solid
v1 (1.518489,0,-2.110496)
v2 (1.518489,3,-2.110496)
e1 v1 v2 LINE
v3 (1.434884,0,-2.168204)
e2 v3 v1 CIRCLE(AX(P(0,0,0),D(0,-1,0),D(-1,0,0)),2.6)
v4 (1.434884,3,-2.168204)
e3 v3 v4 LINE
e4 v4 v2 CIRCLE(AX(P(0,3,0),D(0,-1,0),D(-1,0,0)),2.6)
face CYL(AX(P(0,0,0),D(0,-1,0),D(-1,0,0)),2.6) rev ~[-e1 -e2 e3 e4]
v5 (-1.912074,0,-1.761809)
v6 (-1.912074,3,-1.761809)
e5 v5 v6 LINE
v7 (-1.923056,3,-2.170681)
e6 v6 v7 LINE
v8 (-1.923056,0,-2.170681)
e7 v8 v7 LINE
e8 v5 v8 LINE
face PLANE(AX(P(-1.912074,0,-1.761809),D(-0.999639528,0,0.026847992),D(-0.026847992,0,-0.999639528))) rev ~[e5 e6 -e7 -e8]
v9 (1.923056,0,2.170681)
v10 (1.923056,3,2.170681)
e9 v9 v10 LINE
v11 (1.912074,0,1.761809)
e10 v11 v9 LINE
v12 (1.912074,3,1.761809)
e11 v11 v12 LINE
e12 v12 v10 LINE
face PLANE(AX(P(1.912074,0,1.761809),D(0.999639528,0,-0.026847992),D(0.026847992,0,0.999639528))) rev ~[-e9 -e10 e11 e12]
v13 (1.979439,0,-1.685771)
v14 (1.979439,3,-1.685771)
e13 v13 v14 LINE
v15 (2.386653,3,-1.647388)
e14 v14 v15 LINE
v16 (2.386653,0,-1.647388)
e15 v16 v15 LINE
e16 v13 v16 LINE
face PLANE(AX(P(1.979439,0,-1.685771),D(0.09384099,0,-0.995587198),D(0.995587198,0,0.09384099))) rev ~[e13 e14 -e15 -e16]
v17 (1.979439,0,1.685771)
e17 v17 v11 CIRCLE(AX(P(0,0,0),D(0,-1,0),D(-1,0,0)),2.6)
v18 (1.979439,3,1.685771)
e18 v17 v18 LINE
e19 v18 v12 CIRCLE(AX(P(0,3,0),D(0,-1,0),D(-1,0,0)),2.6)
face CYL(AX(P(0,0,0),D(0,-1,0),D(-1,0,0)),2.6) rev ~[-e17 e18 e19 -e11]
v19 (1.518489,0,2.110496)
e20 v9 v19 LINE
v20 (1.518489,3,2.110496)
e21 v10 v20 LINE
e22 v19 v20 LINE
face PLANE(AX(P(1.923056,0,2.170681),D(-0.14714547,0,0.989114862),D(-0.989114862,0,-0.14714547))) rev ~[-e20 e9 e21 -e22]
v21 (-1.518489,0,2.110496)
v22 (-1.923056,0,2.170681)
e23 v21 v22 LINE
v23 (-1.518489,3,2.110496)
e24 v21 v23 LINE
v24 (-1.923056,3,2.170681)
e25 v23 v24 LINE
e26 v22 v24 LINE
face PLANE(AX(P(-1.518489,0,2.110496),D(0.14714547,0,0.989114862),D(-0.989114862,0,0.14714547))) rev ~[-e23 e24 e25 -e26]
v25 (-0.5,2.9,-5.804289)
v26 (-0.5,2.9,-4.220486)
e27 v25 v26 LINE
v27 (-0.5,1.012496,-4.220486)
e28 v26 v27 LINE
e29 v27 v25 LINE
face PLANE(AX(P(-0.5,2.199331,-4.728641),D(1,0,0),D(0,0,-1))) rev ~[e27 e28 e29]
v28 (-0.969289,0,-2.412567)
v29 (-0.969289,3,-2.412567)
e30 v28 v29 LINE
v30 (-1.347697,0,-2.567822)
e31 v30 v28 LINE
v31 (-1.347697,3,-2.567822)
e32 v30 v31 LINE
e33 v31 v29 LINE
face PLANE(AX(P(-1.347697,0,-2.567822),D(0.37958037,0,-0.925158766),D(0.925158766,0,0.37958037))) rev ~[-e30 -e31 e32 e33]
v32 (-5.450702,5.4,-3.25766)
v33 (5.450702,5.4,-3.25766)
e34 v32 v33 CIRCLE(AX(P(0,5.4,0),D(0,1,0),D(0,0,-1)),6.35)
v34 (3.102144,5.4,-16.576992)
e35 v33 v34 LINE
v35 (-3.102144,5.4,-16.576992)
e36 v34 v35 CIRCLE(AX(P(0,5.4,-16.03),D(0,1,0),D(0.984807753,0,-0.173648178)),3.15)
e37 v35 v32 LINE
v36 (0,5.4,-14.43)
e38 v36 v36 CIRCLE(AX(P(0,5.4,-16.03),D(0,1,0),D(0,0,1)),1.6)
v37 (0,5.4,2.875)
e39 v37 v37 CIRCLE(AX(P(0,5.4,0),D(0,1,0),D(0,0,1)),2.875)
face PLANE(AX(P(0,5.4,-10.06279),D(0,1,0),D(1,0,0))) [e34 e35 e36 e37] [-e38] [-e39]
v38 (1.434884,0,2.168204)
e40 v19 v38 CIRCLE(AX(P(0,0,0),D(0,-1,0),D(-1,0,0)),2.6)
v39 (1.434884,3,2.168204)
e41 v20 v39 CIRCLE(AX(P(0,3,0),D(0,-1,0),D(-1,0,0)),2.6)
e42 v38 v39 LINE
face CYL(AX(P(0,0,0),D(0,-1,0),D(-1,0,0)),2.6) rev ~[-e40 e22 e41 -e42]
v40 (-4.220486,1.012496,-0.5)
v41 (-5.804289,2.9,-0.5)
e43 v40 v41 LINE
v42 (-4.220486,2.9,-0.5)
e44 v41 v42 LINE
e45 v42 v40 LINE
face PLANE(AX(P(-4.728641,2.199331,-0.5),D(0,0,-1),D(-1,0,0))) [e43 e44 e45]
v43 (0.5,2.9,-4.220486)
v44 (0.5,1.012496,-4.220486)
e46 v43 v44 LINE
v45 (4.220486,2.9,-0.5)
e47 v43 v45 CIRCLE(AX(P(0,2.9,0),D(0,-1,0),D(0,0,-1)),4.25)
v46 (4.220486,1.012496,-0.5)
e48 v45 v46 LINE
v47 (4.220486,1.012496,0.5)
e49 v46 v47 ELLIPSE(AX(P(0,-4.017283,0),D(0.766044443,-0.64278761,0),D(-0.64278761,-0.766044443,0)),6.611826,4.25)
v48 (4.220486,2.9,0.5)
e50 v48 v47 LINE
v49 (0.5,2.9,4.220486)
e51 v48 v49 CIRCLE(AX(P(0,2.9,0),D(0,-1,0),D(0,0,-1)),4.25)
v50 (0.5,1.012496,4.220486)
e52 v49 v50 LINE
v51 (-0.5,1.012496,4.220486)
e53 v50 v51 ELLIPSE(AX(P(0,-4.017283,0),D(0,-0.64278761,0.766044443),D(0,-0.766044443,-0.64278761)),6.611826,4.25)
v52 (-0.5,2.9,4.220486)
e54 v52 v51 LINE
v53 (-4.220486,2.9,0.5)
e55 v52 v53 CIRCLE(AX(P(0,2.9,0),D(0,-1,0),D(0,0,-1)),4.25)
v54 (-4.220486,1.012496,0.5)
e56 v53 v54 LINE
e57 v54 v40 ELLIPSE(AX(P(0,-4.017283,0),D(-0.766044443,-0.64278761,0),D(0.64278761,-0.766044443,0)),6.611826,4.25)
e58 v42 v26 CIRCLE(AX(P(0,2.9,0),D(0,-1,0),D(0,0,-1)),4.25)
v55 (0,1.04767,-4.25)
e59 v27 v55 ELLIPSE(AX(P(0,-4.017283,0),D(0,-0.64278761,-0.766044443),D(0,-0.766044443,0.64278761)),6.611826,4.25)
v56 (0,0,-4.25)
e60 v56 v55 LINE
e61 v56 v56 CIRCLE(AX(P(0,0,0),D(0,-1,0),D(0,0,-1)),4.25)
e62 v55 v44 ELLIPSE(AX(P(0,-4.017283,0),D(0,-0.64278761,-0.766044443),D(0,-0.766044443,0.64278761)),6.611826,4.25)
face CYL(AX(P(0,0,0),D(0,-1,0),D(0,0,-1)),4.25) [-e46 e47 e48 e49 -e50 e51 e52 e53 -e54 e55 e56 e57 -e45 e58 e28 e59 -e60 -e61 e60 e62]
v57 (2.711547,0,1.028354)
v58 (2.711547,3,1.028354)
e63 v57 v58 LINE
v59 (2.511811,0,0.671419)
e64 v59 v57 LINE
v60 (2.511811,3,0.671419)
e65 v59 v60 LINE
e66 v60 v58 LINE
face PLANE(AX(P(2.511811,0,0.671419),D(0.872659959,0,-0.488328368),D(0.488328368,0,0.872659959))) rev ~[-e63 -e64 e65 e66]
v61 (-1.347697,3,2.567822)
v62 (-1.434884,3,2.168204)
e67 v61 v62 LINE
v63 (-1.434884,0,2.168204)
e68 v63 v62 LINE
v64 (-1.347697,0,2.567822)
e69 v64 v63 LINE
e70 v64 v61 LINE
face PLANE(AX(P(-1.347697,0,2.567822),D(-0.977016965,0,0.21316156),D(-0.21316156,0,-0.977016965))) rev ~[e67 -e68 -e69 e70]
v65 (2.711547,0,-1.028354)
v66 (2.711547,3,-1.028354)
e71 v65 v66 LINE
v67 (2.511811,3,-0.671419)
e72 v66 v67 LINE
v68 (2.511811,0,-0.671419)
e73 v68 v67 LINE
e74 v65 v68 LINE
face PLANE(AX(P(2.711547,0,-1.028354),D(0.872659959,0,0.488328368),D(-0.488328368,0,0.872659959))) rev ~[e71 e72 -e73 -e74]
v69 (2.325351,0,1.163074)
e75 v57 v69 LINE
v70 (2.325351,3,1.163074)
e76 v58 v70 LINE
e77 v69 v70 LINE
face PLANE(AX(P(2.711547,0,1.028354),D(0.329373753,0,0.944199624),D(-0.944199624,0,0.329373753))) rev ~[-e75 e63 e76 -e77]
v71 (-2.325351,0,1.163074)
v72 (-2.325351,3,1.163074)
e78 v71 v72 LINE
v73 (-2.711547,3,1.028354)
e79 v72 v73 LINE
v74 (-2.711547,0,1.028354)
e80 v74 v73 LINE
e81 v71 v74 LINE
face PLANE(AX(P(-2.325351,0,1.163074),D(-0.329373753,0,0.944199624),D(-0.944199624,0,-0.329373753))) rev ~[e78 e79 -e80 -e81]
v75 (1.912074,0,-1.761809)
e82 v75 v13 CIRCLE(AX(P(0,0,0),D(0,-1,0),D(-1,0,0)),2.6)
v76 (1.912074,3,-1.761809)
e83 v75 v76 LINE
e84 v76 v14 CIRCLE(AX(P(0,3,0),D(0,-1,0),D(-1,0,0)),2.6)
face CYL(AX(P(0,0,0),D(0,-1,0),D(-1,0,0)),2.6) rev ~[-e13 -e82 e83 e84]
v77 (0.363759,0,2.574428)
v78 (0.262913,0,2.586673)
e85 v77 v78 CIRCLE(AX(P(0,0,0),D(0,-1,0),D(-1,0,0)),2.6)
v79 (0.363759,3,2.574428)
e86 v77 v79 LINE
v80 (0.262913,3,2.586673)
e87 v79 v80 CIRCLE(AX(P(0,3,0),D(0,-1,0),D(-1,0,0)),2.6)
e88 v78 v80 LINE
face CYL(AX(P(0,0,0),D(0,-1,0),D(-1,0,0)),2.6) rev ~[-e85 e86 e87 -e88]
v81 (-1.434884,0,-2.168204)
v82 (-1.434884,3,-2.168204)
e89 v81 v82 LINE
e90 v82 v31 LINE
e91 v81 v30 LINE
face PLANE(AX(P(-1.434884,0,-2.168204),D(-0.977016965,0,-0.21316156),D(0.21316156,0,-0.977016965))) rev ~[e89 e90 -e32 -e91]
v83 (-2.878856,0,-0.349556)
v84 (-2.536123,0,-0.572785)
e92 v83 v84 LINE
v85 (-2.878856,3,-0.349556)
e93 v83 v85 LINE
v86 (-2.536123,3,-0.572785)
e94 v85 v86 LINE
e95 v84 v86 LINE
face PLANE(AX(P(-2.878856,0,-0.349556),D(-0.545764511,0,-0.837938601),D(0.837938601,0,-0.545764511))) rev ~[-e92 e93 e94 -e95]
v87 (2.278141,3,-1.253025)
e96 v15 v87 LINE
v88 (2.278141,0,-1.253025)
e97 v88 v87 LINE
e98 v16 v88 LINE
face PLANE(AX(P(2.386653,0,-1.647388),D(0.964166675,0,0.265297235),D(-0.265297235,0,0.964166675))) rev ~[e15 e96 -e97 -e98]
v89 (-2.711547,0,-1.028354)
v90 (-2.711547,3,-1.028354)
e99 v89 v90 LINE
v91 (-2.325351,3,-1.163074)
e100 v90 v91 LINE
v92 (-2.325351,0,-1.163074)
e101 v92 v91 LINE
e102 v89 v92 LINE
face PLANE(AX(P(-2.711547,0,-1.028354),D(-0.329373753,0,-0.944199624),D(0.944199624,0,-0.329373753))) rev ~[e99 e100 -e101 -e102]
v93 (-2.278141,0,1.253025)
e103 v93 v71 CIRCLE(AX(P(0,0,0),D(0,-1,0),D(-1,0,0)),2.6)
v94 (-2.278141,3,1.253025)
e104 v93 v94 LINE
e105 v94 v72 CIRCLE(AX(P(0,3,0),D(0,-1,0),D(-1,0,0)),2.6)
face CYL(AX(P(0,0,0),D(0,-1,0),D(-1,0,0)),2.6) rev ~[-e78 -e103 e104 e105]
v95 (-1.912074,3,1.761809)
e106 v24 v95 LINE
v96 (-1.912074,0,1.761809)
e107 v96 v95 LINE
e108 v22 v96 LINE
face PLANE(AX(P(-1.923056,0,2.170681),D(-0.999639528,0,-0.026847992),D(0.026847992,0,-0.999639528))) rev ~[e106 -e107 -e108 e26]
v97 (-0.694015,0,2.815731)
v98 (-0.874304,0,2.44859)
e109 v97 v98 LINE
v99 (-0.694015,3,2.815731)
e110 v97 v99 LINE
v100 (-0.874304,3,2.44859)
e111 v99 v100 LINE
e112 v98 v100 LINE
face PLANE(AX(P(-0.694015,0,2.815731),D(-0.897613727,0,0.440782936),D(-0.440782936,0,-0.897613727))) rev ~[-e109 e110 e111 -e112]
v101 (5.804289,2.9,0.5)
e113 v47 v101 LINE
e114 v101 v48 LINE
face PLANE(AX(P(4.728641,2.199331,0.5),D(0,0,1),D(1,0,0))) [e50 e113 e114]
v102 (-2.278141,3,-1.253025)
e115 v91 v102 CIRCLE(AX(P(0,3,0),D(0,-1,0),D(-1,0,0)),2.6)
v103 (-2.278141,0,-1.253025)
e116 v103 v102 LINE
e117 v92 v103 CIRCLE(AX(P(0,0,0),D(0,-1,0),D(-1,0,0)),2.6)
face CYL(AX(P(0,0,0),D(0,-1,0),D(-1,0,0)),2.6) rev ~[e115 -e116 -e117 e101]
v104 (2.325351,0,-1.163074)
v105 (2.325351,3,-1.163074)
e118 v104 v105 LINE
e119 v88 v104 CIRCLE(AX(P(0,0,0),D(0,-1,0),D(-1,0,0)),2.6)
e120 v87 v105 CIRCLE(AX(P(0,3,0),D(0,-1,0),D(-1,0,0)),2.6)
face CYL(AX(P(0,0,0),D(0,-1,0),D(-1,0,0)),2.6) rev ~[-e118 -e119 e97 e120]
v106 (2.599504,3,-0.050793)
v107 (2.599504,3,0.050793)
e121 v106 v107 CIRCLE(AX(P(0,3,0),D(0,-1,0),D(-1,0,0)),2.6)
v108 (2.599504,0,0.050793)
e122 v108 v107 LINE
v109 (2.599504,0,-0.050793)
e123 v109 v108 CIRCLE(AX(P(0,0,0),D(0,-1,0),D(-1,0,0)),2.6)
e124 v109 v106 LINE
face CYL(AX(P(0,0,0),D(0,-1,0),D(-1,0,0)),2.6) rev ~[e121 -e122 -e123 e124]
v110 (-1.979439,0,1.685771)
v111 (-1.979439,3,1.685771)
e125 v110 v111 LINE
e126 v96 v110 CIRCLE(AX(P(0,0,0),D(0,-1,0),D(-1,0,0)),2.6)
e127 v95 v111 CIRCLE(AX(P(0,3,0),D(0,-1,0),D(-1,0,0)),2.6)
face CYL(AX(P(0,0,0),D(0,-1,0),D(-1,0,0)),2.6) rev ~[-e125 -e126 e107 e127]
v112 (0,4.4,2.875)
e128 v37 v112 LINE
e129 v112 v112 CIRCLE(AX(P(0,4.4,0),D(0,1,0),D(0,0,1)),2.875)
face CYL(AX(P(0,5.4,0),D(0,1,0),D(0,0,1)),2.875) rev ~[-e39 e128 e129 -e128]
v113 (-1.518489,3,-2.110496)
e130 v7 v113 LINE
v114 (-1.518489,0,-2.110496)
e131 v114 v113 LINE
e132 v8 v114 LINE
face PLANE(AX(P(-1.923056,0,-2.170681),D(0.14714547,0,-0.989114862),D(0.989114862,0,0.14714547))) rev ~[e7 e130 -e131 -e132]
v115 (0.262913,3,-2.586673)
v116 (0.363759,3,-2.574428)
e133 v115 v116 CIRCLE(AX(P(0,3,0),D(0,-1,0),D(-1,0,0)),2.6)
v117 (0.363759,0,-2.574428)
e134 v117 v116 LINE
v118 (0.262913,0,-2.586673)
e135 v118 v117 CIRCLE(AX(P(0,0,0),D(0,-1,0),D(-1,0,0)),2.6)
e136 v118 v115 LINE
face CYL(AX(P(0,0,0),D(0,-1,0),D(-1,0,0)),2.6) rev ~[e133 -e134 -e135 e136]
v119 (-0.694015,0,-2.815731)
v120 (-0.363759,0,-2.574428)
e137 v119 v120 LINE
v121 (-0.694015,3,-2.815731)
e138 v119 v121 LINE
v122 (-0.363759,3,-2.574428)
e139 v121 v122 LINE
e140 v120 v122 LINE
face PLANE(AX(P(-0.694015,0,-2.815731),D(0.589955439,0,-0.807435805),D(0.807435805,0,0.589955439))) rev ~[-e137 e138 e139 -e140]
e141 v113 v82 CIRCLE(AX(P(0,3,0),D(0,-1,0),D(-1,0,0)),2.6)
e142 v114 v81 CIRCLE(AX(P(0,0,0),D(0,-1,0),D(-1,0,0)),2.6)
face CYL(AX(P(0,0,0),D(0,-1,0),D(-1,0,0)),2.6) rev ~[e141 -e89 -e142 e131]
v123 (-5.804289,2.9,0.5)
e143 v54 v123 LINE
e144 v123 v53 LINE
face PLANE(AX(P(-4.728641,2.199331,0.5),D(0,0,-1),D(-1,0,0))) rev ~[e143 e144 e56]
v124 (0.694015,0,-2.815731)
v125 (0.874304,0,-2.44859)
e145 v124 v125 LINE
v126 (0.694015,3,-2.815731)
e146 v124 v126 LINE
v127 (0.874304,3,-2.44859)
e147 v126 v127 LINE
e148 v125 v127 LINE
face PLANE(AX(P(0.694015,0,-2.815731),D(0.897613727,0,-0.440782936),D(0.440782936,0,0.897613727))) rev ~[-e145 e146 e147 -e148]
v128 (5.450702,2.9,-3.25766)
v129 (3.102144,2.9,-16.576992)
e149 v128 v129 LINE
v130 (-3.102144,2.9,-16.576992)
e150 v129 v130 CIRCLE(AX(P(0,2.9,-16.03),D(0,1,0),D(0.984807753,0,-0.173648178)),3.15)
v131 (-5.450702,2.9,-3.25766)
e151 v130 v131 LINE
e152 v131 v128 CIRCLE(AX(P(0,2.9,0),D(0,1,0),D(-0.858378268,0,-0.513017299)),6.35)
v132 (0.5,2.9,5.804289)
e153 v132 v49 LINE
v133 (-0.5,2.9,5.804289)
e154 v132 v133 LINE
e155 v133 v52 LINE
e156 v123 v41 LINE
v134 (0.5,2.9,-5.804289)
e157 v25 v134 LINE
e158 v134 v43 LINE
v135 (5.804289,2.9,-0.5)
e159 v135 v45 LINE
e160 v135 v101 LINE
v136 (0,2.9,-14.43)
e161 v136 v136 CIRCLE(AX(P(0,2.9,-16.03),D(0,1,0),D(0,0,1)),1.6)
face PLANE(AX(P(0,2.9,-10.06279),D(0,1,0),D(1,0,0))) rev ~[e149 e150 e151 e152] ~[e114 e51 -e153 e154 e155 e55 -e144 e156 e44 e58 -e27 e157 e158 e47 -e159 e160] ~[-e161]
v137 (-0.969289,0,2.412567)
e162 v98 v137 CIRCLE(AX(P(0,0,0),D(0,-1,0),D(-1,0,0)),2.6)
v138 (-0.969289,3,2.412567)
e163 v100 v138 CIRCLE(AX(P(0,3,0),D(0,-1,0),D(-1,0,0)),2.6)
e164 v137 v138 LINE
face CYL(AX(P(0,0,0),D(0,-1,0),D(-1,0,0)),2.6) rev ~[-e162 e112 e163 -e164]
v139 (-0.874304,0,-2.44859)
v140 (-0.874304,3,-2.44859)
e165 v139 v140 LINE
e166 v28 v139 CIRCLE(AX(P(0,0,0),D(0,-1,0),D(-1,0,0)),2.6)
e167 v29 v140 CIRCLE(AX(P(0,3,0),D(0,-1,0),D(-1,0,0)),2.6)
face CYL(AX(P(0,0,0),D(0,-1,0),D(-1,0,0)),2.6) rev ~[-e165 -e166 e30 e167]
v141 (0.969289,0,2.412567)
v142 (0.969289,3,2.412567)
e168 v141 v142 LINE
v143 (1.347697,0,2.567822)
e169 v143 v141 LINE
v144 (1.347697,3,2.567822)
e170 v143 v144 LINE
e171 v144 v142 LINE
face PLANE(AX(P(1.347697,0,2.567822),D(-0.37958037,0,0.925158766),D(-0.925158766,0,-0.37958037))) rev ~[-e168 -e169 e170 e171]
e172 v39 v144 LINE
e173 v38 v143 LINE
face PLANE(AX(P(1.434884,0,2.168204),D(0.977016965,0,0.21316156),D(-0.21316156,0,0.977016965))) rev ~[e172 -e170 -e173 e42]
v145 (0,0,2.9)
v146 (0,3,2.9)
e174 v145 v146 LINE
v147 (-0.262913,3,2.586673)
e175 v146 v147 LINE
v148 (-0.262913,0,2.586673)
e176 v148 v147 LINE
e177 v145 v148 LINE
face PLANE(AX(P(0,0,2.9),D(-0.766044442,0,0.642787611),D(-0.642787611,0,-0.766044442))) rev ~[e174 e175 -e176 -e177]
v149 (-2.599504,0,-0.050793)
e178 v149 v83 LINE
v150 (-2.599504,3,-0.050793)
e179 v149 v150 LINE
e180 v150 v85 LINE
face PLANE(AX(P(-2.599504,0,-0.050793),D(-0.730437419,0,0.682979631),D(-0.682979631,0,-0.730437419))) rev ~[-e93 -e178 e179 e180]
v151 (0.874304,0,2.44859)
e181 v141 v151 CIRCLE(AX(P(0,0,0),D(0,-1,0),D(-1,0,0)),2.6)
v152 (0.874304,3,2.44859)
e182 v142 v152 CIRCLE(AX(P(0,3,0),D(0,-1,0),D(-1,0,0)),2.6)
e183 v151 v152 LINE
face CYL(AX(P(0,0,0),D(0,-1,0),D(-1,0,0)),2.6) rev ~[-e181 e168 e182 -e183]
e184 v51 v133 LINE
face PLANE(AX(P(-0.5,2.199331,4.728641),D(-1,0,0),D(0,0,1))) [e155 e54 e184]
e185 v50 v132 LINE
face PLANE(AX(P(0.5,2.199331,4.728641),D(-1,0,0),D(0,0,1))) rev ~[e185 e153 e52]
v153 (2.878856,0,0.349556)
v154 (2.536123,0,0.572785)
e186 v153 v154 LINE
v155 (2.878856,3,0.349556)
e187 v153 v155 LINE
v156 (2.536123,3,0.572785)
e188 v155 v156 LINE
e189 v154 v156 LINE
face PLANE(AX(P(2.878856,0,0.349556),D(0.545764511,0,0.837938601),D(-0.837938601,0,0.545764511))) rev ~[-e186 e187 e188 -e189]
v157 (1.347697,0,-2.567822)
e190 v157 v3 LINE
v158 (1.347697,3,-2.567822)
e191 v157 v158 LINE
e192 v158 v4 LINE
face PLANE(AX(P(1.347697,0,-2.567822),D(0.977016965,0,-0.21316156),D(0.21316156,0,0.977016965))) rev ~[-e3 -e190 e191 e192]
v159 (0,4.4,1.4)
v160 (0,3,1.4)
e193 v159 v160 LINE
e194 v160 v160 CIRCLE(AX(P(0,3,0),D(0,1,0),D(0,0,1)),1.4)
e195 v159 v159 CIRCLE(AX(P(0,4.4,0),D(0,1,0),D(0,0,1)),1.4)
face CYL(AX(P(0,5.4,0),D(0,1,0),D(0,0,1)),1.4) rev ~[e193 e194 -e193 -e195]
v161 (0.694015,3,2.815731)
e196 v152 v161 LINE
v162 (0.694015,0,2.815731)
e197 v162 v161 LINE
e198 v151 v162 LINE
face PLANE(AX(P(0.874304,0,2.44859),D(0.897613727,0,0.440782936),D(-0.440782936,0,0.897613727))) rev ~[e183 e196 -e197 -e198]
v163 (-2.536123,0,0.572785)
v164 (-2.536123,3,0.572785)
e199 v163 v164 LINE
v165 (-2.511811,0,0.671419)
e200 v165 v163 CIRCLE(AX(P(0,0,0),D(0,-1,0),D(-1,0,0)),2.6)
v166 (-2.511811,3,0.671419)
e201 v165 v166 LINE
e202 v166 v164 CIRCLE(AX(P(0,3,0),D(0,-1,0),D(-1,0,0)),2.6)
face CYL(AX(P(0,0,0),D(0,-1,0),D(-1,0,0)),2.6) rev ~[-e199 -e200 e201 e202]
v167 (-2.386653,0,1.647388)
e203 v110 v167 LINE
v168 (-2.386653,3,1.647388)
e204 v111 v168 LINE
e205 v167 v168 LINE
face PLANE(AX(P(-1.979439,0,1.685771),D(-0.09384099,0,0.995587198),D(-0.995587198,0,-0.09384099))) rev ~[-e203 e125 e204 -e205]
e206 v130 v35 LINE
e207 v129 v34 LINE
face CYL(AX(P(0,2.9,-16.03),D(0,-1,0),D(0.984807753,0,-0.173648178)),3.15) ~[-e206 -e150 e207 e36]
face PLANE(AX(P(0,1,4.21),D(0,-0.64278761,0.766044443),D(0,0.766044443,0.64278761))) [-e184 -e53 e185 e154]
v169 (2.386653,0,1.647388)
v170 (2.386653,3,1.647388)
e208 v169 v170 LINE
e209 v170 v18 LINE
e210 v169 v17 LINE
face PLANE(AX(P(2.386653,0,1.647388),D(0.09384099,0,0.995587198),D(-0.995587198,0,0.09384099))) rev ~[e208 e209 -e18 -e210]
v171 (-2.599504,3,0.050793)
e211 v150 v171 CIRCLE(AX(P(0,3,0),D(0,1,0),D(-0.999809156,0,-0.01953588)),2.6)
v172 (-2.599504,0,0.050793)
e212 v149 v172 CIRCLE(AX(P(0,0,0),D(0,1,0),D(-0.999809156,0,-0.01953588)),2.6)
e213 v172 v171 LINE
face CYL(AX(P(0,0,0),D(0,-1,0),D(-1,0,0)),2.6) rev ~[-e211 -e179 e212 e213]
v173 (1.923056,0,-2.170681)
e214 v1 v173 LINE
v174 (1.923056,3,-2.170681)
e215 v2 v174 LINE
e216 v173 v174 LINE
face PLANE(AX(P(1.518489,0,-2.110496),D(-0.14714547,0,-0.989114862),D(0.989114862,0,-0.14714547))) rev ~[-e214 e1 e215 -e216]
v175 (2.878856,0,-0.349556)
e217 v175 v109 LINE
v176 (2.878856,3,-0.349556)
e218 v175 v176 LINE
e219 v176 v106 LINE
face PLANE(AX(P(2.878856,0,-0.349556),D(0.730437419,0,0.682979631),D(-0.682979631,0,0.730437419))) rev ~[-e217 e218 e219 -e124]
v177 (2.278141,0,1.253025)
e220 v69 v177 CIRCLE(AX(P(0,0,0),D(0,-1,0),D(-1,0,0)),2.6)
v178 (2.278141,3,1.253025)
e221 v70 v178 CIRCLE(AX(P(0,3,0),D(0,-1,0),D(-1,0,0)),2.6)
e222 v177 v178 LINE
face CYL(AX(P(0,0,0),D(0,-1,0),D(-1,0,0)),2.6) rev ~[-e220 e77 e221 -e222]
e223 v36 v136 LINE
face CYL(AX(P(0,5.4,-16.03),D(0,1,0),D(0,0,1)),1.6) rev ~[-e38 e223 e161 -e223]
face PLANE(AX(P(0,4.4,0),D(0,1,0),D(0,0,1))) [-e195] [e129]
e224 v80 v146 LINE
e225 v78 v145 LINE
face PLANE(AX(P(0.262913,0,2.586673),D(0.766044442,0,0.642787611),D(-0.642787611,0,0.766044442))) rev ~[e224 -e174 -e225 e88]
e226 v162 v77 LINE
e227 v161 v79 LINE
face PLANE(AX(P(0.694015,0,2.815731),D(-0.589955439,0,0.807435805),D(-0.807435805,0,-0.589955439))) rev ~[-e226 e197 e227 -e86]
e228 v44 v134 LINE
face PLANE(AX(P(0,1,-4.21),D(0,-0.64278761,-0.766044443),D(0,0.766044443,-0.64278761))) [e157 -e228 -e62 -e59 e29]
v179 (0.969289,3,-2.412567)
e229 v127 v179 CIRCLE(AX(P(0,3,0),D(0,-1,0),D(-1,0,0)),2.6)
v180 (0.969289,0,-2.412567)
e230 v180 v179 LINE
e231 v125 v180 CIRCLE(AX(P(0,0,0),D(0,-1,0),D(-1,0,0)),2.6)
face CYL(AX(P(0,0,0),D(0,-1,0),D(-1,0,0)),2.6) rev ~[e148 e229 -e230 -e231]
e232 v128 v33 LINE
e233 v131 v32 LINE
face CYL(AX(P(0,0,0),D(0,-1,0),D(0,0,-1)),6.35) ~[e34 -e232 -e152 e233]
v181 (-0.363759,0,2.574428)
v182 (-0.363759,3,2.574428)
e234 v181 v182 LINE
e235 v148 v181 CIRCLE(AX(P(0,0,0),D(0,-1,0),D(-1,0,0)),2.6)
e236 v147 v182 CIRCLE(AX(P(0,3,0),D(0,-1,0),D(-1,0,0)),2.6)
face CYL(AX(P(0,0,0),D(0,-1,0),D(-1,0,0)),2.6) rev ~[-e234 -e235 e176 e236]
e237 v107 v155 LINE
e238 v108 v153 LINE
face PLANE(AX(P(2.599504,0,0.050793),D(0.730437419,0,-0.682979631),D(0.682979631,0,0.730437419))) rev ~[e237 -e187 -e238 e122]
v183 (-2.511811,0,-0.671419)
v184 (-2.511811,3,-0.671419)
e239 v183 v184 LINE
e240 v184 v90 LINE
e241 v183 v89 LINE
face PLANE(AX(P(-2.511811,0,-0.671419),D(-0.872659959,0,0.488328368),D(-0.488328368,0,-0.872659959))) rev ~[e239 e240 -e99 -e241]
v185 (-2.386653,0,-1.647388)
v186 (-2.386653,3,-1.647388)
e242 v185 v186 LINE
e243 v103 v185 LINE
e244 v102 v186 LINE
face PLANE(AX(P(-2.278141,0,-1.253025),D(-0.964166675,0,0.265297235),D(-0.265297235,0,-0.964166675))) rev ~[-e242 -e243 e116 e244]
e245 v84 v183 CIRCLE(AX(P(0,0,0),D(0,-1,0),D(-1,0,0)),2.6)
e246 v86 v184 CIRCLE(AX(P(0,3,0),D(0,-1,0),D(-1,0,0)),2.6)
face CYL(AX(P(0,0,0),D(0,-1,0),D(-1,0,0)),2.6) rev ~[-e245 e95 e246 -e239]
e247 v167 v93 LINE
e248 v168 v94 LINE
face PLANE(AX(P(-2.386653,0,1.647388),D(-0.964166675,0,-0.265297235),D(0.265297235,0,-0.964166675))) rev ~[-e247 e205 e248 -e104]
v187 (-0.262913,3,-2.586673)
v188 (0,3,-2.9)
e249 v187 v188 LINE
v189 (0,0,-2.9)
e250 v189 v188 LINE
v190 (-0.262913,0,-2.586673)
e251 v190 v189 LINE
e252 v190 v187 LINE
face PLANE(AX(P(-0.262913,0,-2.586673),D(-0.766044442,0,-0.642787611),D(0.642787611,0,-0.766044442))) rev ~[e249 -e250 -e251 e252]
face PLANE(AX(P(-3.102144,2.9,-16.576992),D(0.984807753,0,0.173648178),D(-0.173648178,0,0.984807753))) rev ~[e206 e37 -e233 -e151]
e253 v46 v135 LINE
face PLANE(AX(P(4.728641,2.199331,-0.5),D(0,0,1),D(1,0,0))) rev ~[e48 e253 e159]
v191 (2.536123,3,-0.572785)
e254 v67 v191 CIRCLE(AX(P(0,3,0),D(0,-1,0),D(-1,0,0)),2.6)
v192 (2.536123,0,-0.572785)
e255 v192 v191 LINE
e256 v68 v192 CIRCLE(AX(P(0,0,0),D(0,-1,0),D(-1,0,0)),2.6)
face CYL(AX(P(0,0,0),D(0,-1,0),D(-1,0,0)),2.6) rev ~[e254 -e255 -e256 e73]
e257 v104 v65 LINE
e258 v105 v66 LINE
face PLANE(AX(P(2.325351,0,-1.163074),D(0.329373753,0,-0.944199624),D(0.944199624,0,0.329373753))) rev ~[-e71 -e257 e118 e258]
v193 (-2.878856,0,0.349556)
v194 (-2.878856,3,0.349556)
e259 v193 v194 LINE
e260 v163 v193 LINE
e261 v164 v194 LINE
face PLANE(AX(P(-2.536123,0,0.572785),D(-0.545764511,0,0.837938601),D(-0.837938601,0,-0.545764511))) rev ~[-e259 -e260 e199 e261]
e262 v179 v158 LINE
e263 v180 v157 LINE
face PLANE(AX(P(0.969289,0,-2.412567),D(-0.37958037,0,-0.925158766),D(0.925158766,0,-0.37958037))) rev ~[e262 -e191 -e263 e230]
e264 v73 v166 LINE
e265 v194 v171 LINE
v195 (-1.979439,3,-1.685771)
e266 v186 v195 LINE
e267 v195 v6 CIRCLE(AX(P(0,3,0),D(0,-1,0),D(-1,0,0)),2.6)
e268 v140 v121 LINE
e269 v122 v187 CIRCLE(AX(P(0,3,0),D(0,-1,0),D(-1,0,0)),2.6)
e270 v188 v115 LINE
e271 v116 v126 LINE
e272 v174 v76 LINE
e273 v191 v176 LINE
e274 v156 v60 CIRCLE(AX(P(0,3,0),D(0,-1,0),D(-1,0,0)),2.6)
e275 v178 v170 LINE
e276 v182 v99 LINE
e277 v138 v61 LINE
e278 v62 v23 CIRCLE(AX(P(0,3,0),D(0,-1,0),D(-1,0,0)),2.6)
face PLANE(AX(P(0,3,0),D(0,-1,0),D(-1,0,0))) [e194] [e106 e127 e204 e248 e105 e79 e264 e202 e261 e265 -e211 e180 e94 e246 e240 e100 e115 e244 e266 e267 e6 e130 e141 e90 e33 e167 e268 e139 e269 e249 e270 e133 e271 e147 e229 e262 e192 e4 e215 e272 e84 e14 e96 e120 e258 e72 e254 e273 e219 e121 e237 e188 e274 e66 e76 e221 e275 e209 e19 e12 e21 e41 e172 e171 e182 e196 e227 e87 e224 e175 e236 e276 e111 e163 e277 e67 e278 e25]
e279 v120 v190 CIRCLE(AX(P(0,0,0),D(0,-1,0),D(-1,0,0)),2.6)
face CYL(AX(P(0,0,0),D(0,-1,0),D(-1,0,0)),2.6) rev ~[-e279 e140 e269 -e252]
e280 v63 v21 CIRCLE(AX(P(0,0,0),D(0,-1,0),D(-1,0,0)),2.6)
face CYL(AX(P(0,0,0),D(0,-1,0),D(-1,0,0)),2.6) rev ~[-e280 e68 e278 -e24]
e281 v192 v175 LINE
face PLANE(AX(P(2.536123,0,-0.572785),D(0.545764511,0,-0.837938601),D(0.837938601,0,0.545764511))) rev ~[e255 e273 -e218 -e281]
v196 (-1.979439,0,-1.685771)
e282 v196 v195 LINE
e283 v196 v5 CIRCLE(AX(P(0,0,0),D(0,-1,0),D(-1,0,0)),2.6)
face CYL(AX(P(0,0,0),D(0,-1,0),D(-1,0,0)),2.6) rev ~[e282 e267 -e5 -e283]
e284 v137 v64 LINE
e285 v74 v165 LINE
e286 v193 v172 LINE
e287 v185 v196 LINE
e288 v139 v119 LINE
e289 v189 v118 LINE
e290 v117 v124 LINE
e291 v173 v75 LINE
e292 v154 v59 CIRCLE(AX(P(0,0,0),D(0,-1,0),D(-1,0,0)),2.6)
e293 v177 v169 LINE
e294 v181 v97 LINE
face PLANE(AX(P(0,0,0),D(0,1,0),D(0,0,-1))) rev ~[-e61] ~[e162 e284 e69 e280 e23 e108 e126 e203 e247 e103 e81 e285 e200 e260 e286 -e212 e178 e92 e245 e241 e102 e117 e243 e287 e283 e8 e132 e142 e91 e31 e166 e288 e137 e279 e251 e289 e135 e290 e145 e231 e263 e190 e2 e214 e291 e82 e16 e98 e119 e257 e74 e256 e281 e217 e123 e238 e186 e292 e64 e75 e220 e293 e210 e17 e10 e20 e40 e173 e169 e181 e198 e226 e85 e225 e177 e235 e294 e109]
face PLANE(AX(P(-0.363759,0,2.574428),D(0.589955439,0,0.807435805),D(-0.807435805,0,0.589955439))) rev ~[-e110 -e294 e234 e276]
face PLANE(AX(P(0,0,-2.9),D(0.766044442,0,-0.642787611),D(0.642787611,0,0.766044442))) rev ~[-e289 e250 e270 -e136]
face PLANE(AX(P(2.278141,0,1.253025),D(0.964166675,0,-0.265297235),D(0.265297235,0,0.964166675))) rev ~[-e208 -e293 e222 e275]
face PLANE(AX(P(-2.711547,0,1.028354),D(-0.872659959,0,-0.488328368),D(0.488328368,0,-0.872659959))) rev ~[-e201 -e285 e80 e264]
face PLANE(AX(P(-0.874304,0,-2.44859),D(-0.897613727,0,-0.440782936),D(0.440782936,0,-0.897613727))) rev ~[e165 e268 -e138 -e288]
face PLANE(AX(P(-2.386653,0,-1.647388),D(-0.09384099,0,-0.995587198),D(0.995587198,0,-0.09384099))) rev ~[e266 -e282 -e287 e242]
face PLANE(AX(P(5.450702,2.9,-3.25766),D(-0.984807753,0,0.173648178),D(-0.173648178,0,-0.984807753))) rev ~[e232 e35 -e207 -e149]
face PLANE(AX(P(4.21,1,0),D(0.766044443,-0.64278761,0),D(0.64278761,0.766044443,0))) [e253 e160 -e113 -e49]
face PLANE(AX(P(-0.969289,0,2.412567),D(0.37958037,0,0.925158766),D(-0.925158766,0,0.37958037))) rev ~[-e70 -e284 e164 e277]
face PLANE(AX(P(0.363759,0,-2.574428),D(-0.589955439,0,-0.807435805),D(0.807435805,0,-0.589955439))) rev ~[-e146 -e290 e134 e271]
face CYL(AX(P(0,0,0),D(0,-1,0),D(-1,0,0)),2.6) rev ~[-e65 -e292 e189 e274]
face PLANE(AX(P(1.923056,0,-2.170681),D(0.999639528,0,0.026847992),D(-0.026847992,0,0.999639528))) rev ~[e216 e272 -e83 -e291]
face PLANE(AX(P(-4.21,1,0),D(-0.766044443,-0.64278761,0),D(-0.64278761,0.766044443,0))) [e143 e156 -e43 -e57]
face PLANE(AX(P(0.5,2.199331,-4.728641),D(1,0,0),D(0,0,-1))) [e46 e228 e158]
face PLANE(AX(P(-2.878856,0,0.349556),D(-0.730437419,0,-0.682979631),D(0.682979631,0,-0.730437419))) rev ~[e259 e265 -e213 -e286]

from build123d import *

# Parameters (mm, degrees)
BASES_R             = 6.35
BASE_DEPTH          = 5.4
TOPBORES_R          = 1.4
TOP_BORE_DEPTH      = 11.478788098
HORN_START          = -2.5
HORN_HALF_DEPTH     = 2.5
HORNATTACHS_R       = 1.6
HORN_ATTACH_DEPTH   = 21.913031822
TOOTH_DEPTH         = 3
TOOTH_CP_COUNT      = 26
BOTTOMBORES_R       = 2.6
BOTTOM_BORE_DEPTH   = 3
HOLDINGSHAFTS_R     = 6.35
HOLDINGSHAFTS_R_2   = 4.25
HOLDING_SHAFT_DEPTH = 2.9
RIB_DEPTH           = 0.5
RIB_CP_COUNT        = 4
SKETCH1_R           = 2.875
CUT_EXTRUDE1_DEPTH  = 1


with BuildPart() as part:
    # BaseS → BASE (new body)
    with BuildSketch(Plane(origin=(0, 0, 0), x_dir=(1, 0, 0), z_dir=(0, 1, 0))):
        with Locations(Location((0, 0, 0), (0, 0, 90))):
            Circle(BASES_R)
    extrude(amount=BASE_DEPTH)

    # TopBoreS → TOP BORE (cut, through all)
    with BuildSketch(Plane(origin=(0, 5.4, 0), x_dir=(1, 0, 0), z_dir=(0, 1, 0))):
        with Locations(Location((0, 0, 0), (0, 0, 270))):
            Circle(TOPBORES_R)
    extrude(amount=-TOP_BORE_DEPTH, mode=Mode.SUBTRACT)

    # HornHalfS → HORN HALF (add)
    with BuildSketch(Plane(origin=(0, 5.4, 0), x_dir=(1, 0, 0), z_dir=(0, 1, 0)).offset(HORN_START)):
        with BuildLine():
            Line((-3.102144422, 16.57699176), (-5.450702003, 3.257659846))
            ThreePointArc((-5.450702003, 3.257659846), (0, 6.35), (5.450702003, 3.257659846))
            Line((5.450702003, 3.257659846), (3.102144422, 16.57699176))
            ThreePointArc((3.102144422, 16.57699176), (0, 19.18), (-3.102144422, 16.57699176))
        make_face()
    extrude(amount=HORN_HALF_DEPTH)

    # HornAttachS → HORN ATTACH (cut, through all)
    with BuildSketch(Plane(origin=(0, 5.4, 0), x_dir=(1, 0, 0), z_dir=(0, 1, 0))):
        with Locations(Location((0, 16.03, 0), (0, 0, 270))):
            Circle(HORNATTACHS_R)
    extrude(amount=-HORN_ATTACH_DEPTH, mode=Mode.SUBTRACT)

    # ToothS → TOOTH (cut)
    with BuildSketch(Plane.XZ):
        with BuildLine():
            Line((0, -2.9), (0.262912611, -2.586672952))
            ThreePointArc((0.262912611, -2.586672952), (0, -2.6), (-0.262912611, -2.586672952))
            Line((-0.262912611, -2.586672952), (0, -2.9))
        make_face()
    tooth = extrude(amount=-TOOTH_DEPTH, mode=Mode.SUBTRACT)

    # TOOTH CP: TOOTH ×26 about axis
    tooth_cp_axis = Axis((0, 0, 0), (0, 1, 0))
    for i in range(1, TOOTH_CP_COUNT):
        add(tooth.rotate(tooth_cp_axis, i * 360 / TOOTH_CP_COUNT), mode=Mode.SUBTRACT)

    # BottomBoreS → BOTTOM BORE (cut)
    with BuildSketch(Plane(origin=(0, 0, 0), x_dir=(-1, 0, 0), z_dir=(0, -1, 0))):
        Circle(BOTTOMBORES_R)
    extrude(amount=-BOTTOM_BORE_DEPTH, mode=Mode.SUBTRACT)

    # HoldingShaftS → HOLDING SHAFT (cut)
    with BuildSketch(Plane.XZ):
        Circle(HOLDINGSHAFTS_R)
        with Locations(Location((0, 0, 0), (0, 0, 270))):
            Circle(HOLDINGSHAFTS_R_2, mode=Mode.SUBTRACT)
    extrude(amount=-HOLDING_SHAFT_DEPTH, mode=Mode.SUBTRACT)

    # RibS → RIB (add, symmetric)
    with BuildSketch(Plane.XY):
        Polygon((4.21, 1), (5.804289299, 2.9), (4.21, 2.9), (4.16, 2.9), (4.16, 1), align=None)
    rib = extrude(amount=RIB_DEPTH, both=True)

    # RIB CP: RIB ×4 about axis
    rib_cp_axis = Axis((0, 0, 0), (0, 1, 0))
    for i in range(1, RIB_CP_COUNT):
        add(rib.rotate(rib_cp_axis, i * 360 / RIB_CP_COUNT))

    # Sketch1 → Cut-Extrude1 (cut)
    with BuildSketch(Plane(origin=(0, 5.4, 0), x_dir=(1, 0, 0), z_dir=(0, 1, 0))):
        with Locations(Location((0, 0, 0), (0, 0, 270))):
            Circle(SKETCH1_R)
    extrude(amount=-CUT_EXTRUDE1_DEPTH, mode=Mode.SUBTRACT)


solid = part.part
